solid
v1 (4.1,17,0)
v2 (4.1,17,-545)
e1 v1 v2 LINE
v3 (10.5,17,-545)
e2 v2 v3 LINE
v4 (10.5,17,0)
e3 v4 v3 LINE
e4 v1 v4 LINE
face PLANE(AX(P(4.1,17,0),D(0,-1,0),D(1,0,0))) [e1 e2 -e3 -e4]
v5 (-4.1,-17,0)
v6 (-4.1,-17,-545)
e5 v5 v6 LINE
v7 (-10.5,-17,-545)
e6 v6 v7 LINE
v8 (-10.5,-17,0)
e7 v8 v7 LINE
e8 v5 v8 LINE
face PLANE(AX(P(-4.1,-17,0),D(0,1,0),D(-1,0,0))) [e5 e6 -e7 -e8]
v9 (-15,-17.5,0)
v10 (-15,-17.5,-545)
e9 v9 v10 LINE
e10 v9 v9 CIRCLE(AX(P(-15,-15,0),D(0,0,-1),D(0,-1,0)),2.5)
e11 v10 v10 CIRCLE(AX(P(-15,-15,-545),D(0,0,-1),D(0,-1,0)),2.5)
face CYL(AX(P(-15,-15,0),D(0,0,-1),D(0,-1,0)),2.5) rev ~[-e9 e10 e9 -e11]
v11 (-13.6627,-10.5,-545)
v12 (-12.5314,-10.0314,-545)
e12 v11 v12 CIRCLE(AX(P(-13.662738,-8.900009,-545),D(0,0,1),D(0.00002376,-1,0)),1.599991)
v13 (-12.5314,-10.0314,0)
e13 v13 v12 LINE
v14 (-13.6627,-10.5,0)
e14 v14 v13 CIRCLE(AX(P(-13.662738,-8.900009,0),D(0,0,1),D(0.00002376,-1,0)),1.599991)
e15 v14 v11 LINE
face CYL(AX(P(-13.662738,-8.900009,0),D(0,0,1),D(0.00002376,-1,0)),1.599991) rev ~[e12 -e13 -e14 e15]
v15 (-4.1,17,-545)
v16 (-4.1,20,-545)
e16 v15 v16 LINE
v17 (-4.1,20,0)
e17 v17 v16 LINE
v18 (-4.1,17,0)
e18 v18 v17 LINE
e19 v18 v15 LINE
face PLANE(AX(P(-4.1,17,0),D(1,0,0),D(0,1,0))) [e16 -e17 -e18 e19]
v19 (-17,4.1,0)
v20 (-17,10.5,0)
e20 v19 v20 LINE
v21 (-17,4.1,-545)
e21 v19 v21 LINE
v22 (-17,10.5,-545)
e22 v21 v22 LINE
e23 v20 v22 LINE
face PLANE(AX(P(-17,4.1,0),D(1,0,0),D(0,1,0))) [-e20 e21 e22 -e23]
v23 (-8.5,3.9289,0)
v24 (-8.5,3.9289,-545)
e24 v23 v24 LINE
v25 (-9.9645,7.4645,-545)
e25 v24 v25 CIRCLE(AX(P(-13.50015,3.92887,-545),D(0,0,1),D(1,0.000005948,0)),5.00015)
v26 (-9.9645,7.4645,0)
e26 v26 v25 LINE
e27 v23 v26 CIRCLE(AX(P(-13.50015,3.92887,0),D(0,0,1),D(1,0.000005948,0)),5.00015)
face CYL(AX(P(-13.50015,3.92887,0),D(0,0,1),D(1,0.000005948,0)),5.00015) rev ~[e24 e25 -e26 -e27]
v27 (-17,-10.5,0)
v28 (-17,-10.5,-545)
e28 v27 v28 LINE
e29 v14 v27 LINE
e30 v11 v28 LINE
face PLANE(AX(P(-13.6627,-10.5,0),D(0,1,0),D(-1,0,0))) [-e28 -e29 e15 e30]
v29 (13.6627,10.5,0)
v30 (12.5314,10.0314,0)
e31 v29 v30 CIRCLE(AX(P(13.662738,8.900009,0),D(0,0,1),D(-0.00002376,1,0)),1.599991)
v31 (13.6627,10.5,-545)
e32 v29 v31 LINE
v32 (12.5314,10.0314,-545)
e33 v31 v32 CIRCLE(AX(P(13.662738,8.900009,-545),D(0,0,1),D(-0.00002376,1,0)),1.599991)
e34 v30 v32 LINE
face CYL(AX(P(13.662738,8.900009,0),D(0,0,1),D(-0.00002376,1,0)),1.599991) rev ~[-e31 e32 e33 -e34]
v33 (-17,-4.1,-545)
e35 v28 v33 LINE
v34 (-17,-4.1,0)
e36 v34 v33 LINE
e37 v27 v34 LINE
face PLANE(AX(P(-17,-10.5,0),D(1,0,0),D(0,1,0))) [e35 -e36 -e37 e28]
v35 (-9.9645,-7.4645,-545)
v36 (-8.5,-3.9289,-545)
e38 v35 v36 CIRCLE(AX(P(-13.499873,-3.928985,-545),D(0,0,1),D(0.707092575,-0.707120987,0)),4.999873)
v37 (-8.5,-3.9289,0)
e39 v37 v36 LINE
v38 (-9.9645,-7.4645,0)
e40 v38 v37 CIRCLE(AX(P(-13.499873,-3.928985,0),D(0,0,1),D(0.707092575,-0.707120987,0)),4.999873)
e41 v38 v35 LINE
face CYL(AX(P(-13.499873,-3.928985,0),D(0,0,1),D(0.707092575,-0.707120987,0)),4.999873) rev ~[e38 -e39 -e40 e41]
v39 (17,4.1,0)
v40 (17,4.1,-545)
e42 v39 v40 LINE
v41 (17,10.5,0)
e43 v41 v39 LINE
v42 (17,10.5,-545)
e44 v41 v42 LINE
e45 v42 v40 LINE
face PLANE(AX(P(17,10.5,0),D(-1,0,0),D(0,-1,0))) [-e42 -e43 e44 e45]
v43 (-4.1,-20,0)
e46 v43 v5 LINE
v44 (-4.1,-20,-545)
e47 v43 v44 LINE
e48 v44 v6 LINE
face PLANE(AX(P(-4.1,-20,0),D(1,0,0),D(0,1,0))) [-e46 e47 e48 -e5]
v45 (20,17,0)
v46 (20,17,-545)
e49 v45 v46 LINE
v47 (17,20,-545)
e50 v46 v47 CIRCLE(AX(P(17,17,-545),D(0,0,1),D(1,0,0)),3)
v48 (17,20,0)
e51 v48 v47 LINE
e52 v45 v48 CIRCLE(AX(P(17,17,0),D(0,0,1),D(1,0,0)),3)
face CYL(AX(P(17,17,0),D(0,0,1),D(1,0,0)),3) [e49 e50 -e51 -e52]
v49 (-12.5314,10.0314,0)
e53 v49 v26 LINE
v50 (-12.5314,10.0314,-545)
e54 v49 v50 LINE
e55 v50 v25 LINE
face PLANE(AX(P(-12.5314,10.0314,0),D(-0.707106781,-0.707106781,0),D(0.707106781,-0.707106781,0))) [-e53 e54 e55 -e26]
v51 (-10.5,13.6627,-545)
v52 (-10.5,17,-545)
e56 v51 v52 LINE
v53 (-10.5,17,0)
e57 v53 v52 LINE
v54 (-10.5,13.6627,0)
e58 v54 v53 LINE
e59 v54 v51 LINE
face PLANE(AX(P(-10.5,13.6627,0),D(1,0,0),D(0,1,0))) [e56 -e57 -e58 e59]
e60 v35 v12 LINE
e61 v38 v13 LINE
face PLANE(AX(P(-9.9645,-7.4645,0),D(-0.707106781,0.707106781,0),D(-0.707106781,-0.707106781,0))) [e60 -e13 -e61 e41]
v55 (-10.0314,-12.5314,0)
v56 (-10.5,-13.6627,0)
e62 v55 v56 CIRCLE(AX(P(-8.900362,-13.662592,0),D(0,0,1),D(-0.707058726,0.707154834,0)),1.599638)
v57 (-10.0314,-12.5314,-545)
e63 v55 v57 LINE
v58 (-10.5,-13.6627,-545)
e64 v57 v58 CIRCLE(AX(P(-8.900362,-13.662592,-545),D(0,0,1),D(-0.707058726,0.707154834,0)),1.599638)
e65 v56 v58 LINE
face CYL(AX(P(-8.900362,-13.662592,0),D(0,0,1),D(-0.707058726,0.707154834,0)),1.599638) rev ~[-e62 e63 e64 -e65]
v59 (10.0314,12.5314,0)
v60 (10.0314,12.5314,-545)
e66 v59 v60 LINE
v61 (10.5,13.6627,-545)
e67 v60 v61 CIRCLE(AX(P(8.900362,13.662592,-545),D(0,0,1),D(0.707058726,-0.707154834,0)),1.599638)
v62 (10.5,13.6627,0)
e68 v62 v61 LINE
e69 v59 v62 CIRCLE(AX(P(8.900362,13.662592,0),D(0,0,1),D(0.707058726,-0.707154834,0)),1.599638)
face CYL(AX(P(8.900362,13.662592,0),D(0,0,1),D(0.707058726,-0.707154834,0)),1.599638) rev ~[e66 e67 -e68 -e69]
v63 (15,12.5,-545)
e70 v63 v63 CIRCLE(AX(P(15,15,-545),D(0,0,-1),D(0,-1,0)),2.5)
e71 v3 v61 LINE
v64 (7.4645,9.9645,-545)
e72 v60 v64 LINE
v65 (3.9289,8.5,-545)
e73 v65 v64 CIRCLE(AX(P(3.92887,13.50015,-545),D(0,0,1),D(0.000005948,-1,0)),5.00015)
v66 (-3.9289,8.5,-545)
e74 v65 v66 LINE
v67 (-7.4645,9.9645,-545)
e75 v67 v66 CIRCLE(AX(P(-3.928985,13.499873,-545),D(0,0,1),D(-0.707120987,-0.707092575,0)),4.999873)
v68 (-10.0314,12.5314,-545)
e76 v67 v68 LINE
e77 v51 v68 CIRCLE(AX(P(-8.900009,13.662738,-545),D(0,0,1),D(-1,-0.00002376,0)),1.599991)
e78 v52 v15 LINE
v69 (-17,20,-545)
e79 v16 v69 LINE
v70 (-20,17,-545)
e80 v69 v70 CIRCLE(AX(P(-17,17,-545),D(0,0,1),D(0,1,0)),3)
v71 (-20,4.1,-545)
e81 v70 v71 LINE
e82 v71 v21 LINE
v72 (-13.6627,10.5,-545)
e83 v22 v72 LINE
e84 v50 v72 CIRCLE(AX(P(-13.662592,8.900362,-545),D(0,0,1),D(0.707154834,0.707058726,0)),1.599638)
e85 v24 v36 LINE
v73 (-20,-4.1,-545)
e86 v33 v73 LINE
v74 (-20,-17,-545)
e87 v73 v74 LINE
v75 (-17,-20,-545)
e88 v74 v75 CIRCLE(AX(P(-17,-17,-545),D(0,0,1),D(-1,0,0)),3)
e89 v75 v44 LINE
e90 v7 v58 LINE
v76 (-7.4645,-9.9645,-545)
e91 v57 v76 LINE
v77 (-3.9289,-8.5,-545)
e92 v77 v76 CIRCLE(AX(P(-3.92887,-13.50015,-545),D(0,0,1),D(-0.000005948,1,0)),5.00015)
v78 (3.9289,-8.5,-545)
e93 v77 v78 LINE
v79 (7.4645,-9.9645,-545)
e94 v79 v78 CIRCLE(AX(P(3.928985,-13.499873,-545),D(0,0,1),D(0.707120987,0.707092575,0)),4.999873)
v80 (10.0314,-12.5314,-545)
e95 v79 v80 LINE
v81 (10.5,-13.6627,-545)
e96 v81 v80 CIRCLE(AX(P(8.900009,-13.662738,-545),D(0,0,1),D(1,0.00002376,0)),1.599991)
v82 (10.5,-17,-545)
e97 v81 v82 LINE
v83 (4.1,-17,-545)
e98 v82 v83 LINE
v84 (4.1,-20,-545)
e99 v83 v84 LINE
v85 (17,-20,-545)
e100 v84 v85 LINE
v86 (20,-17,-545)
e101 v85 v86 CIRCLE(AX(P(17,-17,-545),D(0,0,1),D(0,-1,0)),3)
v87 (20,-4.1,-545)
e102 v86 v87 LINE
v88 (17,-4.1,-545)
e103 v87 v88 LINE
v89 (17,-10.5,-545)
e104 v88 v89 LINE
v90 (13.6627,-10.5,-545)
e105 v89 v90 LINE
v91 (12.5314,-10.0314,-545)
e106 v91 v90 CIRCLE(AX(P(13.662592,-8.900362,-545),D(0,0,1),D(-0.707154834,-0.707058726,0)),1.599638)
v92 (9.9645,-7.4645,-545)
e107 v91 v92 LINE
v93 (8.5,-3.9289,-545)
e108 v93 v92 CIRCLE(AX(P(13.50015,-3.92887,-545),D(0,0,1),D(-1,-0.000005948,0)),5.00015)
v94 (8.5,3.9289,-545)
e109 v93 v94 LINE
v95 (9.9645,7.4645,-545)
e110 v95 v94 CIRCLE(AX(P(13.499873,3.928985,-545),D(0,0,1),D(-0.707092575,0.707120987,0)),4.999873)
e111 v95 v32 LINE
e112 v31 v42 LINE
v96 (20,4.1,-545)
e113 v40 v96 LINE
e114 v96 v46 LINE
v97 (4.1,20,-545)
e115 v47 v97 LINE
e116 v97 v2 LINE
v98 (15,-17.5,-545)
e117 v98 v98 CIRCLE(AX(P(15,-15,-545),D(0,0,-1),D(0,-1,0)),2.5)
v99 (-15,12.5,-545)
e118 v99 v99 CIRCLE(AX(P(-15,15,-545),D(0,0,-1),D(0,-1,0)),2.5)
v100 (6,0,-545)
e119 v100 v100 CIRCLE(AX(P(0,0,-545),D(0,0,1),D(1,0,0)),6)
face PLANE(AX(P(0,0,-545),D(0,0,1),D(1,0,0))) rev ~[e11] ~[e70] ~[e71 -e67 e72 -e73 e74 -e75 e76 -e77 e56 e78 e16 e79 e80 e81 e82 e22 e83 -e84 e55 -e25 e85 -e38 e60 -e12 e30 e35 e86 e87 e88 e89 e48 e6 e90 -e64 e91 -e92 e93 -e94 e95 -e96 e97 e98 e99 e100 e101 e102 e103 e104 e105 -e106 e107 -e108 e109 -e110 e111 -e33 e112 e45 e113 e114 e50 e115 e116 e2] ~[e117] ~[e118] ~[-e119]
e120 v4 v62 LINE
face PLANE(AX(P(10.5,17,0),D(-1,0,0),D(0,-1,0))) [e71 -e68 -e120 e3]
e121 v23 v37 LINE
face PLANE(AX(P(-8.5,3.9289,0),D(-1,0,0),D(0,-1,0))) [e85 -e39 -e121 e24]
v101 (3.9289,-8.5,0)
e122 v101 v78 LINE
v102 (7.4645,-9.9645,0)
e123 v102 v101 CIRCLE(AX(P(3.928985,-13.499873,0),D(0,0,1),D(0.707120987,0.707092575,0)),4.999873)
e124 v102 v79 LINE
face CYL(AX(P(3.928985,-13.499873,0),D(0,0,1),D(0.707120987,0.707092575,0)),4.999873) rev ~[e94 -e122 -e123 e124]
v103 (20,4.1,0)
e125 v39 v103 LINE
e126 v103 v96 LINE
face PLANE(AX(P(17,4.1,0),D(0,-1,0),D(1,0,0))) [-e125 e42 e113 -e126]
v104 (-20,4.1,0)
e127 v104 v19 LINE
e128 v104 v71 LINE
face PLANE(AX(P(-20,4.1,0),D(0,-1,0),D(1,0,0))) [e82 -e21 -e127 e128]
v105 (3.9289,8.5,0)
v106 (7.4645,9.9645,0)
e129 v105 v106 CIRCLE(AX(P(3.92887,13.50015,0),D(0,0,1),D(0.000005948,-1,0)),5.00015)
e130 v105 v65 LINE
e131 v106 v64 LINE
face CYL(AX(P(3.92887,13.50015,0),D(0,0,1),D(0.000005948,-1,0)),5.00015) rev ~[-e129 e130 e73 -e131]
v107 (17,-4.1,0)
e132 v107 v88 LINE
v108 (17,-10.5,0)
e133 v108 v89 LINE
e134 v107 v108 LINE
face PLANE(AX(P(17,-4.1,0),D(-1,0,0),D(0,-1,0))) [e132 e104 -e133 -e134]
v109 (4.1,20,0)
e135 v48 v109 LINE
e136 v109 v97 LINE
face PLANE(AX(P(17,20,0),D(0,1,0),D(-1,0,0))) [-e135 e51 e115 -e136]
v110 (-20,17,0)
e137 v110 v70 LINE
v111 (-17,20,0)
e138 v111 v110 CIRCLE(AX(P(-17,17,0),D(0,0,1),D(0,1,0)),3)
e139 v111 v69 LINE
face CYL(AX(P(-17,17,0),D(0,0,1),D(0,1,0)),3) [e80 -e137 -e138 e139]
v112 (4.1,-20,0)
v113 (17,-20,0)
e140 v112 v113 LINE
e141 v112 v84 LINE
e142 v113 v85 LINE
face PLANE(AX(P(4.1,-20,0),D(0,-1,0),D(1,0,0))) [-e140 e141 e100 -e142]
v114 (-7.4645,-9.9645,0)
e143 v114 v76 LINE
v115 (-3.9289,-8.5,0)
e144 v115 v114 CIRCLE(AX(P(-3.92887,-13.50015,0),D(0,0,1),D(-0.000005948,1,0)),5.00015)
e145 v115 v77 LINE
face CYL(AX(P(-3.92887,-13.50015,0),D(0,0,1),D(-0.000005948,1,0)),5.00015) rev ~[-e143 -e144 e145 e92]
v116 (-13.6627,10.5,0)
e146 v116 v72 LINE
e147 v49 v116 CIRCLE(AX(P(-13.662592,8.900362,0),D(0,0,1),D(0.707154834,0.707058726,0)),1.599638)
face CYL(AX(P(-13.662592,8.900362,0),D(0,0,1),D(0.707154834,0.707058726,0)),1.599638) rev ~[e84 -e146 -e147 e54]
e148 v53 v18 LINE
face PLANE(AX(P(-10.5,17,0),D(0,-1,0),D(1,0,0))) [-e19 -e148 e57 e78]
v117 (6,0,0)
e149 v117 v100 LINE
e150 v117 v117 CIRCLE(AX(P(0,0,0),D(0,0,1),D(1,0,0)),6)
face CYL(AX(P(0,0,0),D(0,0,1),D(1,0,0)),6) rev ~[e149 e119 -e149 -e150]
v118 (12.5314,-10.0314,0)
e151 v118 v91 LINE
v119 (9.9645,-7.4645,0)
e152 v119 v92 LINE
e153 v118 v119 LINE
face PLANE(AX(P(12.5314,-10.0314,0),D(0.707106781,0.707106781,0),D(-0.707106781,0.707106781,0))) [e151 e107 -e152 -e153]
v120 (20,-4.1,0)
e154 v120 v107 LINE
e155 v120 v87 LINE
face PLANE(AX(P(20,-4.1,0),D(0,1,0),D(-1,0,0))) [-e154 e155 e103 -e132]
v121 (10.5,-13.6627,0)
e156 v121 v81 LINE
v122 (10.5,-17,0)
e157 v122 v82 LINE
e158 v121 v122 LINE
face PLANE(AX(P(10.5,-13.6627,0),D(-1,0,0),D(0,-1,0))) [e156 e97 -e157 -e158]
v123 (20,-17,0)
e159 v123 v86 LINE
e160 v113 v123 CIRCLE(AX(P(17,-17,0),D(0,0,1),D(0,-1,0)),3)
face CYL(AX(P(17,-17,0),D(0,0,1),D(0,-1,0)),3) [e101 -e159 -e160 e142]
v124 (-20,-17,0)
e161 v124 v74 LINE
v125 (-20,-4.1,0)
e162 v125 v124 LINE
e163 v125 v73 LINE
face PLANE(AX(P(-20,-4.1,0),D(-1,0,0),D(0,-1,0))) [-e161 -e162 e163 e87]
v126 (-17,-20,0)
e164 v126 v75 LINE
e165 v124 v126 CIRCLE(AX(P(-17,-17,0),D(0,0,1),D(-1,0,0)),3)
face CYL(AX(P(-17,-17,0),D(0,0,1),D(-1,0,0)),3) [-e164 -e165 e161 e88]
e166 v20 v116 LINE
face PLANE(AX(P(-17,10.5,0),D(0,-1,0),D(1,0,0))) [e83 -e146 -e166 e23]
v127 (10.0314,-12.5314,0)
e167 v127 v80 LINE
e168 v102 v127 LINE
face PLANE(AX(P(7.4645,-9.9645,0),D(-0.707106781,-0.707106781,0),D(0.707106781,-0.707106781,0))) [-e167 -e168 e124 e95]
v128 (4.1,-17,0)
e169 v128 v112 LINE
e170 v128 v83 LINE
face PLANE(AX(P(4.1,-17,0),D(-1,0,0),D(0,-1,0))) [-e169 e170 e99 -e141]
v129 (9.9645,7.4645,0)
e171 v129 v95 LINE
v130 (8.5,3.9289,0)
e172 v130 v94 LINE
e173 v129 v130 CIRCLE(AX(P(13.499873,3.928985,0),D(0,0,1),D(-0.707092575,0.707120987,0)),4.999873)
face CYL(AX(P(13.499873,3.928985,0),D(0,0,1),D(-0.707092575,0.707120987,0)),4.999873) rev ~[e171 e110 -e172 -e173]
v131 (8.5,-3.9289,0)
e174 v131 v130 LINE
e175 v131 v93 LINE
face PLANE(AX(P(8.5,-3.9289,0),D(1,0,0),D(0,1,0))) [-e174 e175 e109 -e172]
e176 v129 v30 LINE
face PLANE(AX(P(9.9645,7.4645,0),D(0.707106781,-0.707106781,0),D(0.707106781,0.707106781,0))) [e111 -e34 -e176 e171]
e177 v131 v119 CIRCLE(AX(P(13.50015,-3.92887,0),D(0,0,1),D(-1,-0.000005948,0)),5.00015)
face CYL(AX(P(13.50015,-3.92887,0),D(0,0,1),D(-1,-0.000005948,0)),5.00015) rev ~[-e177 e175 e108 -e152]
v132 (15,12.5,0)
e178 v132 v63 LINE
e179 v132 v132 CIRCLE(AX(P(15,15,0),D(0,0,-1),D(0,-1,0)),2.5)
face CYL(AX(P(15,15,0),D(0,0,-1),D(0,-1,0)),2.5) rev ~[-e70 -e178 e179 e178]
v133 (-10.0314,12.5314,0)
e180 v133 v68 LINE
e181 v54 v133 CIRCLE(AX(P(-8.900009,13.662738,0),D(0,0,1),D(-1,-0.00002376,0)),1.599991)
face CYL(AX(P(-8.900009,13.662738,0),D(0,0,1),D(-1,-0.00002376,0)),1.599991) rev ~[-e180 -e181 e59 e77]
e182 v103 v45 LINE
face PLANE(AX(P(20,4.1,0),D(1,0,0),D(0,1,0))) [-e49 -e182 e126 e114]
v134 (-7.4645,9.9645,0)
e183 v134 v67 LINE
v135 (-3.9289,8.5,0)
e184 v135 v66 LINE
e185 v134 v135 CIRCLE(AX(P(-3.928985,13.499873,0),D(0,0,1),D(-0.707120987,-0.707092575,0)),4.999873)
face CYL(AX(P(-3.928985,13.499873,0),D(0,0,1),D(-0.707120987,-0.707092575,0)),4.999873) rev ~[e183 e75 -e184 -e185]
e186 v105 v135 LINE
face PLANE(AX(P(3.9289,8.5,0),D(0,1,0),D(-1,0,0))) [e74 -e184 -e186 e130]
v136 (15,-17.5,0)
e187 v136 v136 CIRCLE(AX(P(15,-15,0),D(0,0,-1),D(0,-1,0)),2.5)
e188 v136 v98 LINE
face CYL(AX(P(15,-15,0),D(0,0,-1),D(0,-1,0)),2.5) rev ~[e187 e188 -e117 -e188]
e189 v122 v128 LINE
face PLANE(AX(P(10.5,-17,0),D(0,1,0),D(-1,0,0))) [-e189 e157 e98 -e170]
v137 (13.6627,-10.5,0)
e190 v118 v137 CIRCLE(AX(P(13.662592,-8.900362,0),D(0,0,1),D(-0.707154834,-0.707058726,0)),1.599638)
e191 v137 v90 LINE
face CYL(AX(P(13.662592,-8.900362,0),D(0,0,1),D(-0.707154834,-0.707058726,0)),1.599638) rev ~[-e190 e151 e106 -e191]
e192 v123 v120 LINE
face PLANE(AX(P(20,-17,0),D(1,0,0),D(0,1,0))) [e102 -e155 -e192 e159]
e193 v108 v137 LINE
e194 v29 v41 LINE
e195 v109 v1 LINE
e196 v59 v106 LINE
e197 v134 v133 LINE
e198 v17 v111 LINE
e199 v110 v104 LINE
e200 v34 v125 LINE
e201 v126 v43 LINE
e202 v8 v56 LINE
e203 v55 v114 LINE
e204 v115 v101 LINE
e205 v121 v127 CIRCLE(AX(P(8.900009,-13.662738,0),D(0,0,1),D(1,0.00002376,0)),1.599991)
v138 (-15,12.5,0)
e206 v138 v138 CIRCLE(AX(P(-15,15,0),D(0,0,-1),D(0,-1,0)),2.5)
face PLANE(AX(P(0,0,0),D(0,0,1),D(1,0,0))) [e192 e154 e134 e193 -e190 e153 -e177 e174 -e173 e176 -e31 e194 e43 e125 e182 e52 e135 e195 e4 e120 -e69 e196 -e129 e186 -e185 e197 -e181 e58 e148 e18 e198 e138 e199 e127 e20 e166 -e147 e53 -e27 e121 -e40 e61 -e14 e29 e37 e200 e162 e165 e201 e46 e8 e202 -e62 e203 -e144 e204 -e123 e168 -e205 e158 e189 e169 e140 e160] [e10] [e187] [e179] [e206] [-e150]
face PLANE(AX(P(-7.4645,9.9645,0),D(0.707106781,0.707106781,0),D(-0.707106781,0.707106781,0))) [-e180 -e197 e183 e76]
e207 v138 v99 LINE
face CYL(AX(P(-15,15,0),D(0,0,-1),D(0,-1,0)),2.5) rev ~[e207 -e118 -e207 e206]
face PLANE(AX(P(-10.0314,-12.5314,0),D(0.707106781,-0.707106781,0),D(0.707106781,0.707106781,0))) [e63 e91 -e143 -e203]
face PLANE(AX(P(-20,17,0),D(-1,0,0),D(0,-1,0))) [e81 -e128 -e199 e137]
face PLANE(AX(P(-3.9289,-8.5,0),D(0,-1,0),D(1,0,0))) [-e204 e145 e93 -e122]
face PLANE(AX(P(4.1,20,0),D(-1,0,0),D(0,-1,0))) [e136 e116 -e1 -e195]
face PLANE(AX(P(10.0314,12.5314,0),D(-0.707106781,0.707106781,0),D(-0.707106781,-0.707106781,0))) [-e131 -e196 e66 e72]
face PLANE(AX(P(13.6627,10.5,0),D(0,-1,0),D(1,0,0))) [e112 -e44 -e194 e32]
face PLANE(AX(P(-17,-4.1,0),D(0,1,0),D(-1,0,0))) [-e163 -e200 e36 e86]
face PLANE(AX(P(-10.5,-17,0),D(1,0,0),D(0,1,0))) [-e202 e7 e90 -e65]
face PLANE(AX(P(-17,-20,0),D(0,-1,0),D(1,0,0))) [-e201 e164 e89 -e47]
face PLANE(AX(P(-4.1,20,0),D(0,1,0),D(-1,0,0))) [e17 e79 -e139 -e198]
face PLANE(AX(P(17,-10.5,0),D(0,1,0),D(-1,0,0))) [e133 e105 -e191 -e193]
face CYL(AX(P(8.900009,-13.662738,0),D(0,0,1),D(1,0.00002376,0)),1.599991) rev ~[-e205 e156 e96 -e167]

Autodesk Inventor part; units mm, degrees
sketch "Skizze_1" plane through (0, 0, 0) normal (0, 0, 1) x (1, 0, 0)
  arc A0 (-20, -17) -> (-17, -20) centre (-17, -17) ccw
  line L0 (-17, -20) -> (-4.1, -20)
  line L1 (-4.1, -20) -> (-4.1, -17)
  line L2 (-4.1, -17) -> (-10.5, -17)
  line L3 (-10.5, -17) -> (-10.5, -13.6627)
  arc A1 (-10.0314, -12.5314) -> (-10.5, -13.6627) centre (-8.9002, -13.6627) ccw
  line L4 (-10.0314, -12.5314) -> (-7.4645, -9.9645)
  arc A2 (-3.9289, -8.5) -> (-7.4645, -9.9645) centre (-3.9289, -13.5) ccw
  line L5 (-3.9289, -8.5) -> (3.9289, -8.5)
  arc A3 (7.4645, -9.9645) -> (3.9289, -8.5) centre (3.9289, -13.5) ccw
  line L6 (7.4645, -9.9645) -> (10.0314, -12.5314)
  arc A4 (10.5, -13.6627) -> (10.0314, -12.5314) centre (8.9002, -13.6627) ccw
  line L7 (10.5, -13.6627) -> (10.5, -17)
  line L8 (10.5, -17) -> (4.1, -17)
  line L9 (4.1, -17) -> (4.1, -20)
  line L10 (4.1, -20) -> (17, -20)
  arc A5 (17, -20) -> (20, -17) centre (17, -17) ccw
  line L11 (20, -17) -> (20, -4.1)
  line L12 (20, -4.1) -> (17, -4.1)
  line L13 (17, -4.1) -> (17, -10.5)
  line L14 (17, -10.5) -> (13.6627, -10.5)
  arc A6 (12.5314, -10.0314) -> (13.6627, -10.5) centre (13.6627, -8.9002) ccw
  line L15 (12.5314, -10.0314) -> (9.9645, -7.4645)
  arc A7 (8.5, -3.9289) -> (9.9645, -7.4645) centre (13.5, -3.9289) ccw
  line L16 (8.5, -3.9289) -> (8.5, 3.9289)
  arc A8 (9.9645, 7.4645) -> (8.5, 3.9289) centre (13.5, 3.9289) ccw
  line L17 (9.9645, 7.4645) -> (12.5314, 10.0314)
  arc A9 (13.6627, 10.5) -> (12.5314, 10.0314) centre (13.6627, 8.9002) ccw
  line L18 (13.6627, 10.5) -> (17, 10.5)
  line L19 (17, 10.5) -> (17, 4.1)
  line L20 (17, 4.1) -> (20, 4.1)
  line L21 (20, 4.1) -> (20, 17)
  arc A10 (20, 17) -> (17, 20) centre (17, 17) ccw
  line L22 (17, 20) -> (4.1, 20)
  line L23 (4.1, 20) -> (4.1, 17)
  line L24 (4.1, 17) -> (10.5, 17)
  line L25 (10.5, 17) -> (10.5, 13.6627)
  arc A11 (10.0314, 12.5314) -> (10.5, 13.6627) centre (8.9002, 13.6627) ccw
  line L26 (10.0314, 12.5314) -> (7.4645, 9.9645)
  arc A12 (3.9289, 8.5) -> (7.4645, 9.9645) centre (3.9289, 13.5) ccw
  line L27 (3.9289, 8.5) -> (-3.9289, 8.5)
  arc A13 (-7.4645, 9.9645) -> (-3.9289, 8.5) centre (-3.9289, 13.5) ccw
  line L28 (-7.4645, 9.9645) -> (-10.0314, 12.5314)
  arc A14 (-10.5, 13.6627) -> (-10.0314, 12.5314) centre (-8.9002, 13.6627) ccw
  line L29 (-10.5, 13.6627) -> (-10.5, 17)
  line L30 (-10.5, 17) -> (-4.1, 17)
  line L31 (-4.1, 17) -> (-4.1, 20)
  line L32 (-4.1, 20) -> (-17, 20)
  arc A15 (-17, 20) -> (-20, 17) centre (-17, 17) ccw
  line L33 (-20, 17) -> (-20, 4.1)
  line L34 (-20, 4.1) -> (-17, 4.1)
  line L35 (-17, 4.1) -> (-17, 10.5)
  line L36 (-17, 10.5) -> (-13.6627, 10.5)
  arc A16 (-12.5314, 10.0314) -> (-13.6627, 10.5) centre (-13.6627, 8.9002) ccw
  line L37 (-12.5314, 10.0314) -> (-9.9645, 7.4645)
  arc A17 (-8.5, 3.9289) -> (-9.9645, 7.4645) centre (-13.5, 3.9289) ccw
  line L38 (-8.5, 3.9289) -> (-8.5, -3.9289)
  arc A18 (-9.9645, -7.4645) -> (-8.5, -3.9289) centre (-13.5, -3.9289) ccw
  line L39 (-9.9645, -7.4645) -> (-12.5314, -10.0314)
  arc A19 (-13.6627, -10.5) -> (-12.5314, -10.0314) centre (-13.6627, -8.9002) ccw
  line L40 (-13.6627, -10.5) -> (-17, -10.5)
  line L41 (-17, -10.5) -> (-17, -4.1)
  line L42 (-17, -4.1) -> (-20, -4.1)
  line L43 (-20, -4.1) -> (-20, -17)
  circle A20 centre (0, 0) radius 6
extrude "Extrusion1" add sketch "Skizze_1" against normal blind 545
sketch "Sketch2" plane through (0, 0, 0) normal (0, 0, 1) x (1, 0, 0)
  point P0 (-15, -15)
hole "Drilling 1" at (-15, -15, 0) direction (0, 0, -1) diameter 5 depth 6000
sketch "Sketch3" plane through (0, 0, 0) normal (0, 0, 1) x (1, 0, 0)
  point P0 (15, -15)
hole "Drilling 2" at (15, -15, 0) direction (0, 0, -1) diameter 5 depth 6000
sketch "Sketch4" plane through (0, 0, 0) normal (0, 0, 1) x (1, 0, 0)
  point P0 (15, 15)
hole "Drilling 3" at (15, 15, 0) direction (0, 0, -1) diameter 5 depth 6000
sketch "Sketch5" plane through (0, 0, 0) normal (0, 0, 1) x (1, 0, 0)
  point P0 (-15, 15)
hole "Drilling 4" at (-15, 15, 0) direction (0, 0, -1) diameter 5 depth 6000
ref_plane "side_4d_XY" through (-20, 0, -272.5) normal (-1, 0, 0) x (0, 1, 0)
ref_plane "side_4d_YZ" through (-20, 0, -272.5) normal (0, 1, 0) x (0, 0, -1)
ref_plane "side_4d_ZX" through (-20, 0, -272.5) normal (0, 0, -1) x (-1, 0, 0)
ref_plane "side_1a_XY" through (0, 20, -272.5) normal (0, 1, 0) x (1, 0, 0)
ref_plane "side_1a_YZ" through (0, 20, -272.5) normal (1, 0, 0) x (0, 0, -1)
ref_plane "side_1a_ZX" through (0, 20, -272.5) normal (0, 0, -1) x (0, 1, 0)
ref_plane "side_2b_XY" through (20, 0, -272.5) normal (1, 0, 0) x (0, -1, 0)
ref_plane "side_2b_YZ" through (20, 0, -272.5) normal (0, -1, 0) x (0, 0, -1)
ref_plane "side_2b_ZX" through (20, 0, -272.5) normal (0, 0, -1) x (1, 0, 0)
ref_plane "side_3c_XY" through (0, -20, -272.5) normal (0, -1, 0) x (-1, 0, 0)
ref_plane "side_3c_YZ" through (0, -20, -272.5) normal (-1, 0, 0) x (0, 0, -1)
ref_plane "side_3c_ZX" through (0, -20, -272.5) normal (0, 0, -1) x (0, -1, 0)
ref_plane "end_XY" through (0, 0, -545) normal (0, 0, -1) x (1, 0, 0)
ref_plane "end_YZ" through (0, 0, -545) normal (1, 0, 0) x (0, -1, 0)
ref_plane "end_ZX" through (0, 0, -545) normal (0, -1, 0) x (0, 0, -1)
ref_plane "start_XY" through (0, 0, 0) normal (0, 0, 1) x (1, 0, 0)
ref_plane "start_YZ" through (0, 0, 0) normal (1, 0, 0) x (0, 1, 0)
ref_plane "start_ZX" through (0, 0, 0) normal (0, 1, 0) x (0, 0, 1)
properties part number "MayTec 1.11.040040.43S_Profile 40x40, 4E, S_545_Detail_(0;0,0,0)"
